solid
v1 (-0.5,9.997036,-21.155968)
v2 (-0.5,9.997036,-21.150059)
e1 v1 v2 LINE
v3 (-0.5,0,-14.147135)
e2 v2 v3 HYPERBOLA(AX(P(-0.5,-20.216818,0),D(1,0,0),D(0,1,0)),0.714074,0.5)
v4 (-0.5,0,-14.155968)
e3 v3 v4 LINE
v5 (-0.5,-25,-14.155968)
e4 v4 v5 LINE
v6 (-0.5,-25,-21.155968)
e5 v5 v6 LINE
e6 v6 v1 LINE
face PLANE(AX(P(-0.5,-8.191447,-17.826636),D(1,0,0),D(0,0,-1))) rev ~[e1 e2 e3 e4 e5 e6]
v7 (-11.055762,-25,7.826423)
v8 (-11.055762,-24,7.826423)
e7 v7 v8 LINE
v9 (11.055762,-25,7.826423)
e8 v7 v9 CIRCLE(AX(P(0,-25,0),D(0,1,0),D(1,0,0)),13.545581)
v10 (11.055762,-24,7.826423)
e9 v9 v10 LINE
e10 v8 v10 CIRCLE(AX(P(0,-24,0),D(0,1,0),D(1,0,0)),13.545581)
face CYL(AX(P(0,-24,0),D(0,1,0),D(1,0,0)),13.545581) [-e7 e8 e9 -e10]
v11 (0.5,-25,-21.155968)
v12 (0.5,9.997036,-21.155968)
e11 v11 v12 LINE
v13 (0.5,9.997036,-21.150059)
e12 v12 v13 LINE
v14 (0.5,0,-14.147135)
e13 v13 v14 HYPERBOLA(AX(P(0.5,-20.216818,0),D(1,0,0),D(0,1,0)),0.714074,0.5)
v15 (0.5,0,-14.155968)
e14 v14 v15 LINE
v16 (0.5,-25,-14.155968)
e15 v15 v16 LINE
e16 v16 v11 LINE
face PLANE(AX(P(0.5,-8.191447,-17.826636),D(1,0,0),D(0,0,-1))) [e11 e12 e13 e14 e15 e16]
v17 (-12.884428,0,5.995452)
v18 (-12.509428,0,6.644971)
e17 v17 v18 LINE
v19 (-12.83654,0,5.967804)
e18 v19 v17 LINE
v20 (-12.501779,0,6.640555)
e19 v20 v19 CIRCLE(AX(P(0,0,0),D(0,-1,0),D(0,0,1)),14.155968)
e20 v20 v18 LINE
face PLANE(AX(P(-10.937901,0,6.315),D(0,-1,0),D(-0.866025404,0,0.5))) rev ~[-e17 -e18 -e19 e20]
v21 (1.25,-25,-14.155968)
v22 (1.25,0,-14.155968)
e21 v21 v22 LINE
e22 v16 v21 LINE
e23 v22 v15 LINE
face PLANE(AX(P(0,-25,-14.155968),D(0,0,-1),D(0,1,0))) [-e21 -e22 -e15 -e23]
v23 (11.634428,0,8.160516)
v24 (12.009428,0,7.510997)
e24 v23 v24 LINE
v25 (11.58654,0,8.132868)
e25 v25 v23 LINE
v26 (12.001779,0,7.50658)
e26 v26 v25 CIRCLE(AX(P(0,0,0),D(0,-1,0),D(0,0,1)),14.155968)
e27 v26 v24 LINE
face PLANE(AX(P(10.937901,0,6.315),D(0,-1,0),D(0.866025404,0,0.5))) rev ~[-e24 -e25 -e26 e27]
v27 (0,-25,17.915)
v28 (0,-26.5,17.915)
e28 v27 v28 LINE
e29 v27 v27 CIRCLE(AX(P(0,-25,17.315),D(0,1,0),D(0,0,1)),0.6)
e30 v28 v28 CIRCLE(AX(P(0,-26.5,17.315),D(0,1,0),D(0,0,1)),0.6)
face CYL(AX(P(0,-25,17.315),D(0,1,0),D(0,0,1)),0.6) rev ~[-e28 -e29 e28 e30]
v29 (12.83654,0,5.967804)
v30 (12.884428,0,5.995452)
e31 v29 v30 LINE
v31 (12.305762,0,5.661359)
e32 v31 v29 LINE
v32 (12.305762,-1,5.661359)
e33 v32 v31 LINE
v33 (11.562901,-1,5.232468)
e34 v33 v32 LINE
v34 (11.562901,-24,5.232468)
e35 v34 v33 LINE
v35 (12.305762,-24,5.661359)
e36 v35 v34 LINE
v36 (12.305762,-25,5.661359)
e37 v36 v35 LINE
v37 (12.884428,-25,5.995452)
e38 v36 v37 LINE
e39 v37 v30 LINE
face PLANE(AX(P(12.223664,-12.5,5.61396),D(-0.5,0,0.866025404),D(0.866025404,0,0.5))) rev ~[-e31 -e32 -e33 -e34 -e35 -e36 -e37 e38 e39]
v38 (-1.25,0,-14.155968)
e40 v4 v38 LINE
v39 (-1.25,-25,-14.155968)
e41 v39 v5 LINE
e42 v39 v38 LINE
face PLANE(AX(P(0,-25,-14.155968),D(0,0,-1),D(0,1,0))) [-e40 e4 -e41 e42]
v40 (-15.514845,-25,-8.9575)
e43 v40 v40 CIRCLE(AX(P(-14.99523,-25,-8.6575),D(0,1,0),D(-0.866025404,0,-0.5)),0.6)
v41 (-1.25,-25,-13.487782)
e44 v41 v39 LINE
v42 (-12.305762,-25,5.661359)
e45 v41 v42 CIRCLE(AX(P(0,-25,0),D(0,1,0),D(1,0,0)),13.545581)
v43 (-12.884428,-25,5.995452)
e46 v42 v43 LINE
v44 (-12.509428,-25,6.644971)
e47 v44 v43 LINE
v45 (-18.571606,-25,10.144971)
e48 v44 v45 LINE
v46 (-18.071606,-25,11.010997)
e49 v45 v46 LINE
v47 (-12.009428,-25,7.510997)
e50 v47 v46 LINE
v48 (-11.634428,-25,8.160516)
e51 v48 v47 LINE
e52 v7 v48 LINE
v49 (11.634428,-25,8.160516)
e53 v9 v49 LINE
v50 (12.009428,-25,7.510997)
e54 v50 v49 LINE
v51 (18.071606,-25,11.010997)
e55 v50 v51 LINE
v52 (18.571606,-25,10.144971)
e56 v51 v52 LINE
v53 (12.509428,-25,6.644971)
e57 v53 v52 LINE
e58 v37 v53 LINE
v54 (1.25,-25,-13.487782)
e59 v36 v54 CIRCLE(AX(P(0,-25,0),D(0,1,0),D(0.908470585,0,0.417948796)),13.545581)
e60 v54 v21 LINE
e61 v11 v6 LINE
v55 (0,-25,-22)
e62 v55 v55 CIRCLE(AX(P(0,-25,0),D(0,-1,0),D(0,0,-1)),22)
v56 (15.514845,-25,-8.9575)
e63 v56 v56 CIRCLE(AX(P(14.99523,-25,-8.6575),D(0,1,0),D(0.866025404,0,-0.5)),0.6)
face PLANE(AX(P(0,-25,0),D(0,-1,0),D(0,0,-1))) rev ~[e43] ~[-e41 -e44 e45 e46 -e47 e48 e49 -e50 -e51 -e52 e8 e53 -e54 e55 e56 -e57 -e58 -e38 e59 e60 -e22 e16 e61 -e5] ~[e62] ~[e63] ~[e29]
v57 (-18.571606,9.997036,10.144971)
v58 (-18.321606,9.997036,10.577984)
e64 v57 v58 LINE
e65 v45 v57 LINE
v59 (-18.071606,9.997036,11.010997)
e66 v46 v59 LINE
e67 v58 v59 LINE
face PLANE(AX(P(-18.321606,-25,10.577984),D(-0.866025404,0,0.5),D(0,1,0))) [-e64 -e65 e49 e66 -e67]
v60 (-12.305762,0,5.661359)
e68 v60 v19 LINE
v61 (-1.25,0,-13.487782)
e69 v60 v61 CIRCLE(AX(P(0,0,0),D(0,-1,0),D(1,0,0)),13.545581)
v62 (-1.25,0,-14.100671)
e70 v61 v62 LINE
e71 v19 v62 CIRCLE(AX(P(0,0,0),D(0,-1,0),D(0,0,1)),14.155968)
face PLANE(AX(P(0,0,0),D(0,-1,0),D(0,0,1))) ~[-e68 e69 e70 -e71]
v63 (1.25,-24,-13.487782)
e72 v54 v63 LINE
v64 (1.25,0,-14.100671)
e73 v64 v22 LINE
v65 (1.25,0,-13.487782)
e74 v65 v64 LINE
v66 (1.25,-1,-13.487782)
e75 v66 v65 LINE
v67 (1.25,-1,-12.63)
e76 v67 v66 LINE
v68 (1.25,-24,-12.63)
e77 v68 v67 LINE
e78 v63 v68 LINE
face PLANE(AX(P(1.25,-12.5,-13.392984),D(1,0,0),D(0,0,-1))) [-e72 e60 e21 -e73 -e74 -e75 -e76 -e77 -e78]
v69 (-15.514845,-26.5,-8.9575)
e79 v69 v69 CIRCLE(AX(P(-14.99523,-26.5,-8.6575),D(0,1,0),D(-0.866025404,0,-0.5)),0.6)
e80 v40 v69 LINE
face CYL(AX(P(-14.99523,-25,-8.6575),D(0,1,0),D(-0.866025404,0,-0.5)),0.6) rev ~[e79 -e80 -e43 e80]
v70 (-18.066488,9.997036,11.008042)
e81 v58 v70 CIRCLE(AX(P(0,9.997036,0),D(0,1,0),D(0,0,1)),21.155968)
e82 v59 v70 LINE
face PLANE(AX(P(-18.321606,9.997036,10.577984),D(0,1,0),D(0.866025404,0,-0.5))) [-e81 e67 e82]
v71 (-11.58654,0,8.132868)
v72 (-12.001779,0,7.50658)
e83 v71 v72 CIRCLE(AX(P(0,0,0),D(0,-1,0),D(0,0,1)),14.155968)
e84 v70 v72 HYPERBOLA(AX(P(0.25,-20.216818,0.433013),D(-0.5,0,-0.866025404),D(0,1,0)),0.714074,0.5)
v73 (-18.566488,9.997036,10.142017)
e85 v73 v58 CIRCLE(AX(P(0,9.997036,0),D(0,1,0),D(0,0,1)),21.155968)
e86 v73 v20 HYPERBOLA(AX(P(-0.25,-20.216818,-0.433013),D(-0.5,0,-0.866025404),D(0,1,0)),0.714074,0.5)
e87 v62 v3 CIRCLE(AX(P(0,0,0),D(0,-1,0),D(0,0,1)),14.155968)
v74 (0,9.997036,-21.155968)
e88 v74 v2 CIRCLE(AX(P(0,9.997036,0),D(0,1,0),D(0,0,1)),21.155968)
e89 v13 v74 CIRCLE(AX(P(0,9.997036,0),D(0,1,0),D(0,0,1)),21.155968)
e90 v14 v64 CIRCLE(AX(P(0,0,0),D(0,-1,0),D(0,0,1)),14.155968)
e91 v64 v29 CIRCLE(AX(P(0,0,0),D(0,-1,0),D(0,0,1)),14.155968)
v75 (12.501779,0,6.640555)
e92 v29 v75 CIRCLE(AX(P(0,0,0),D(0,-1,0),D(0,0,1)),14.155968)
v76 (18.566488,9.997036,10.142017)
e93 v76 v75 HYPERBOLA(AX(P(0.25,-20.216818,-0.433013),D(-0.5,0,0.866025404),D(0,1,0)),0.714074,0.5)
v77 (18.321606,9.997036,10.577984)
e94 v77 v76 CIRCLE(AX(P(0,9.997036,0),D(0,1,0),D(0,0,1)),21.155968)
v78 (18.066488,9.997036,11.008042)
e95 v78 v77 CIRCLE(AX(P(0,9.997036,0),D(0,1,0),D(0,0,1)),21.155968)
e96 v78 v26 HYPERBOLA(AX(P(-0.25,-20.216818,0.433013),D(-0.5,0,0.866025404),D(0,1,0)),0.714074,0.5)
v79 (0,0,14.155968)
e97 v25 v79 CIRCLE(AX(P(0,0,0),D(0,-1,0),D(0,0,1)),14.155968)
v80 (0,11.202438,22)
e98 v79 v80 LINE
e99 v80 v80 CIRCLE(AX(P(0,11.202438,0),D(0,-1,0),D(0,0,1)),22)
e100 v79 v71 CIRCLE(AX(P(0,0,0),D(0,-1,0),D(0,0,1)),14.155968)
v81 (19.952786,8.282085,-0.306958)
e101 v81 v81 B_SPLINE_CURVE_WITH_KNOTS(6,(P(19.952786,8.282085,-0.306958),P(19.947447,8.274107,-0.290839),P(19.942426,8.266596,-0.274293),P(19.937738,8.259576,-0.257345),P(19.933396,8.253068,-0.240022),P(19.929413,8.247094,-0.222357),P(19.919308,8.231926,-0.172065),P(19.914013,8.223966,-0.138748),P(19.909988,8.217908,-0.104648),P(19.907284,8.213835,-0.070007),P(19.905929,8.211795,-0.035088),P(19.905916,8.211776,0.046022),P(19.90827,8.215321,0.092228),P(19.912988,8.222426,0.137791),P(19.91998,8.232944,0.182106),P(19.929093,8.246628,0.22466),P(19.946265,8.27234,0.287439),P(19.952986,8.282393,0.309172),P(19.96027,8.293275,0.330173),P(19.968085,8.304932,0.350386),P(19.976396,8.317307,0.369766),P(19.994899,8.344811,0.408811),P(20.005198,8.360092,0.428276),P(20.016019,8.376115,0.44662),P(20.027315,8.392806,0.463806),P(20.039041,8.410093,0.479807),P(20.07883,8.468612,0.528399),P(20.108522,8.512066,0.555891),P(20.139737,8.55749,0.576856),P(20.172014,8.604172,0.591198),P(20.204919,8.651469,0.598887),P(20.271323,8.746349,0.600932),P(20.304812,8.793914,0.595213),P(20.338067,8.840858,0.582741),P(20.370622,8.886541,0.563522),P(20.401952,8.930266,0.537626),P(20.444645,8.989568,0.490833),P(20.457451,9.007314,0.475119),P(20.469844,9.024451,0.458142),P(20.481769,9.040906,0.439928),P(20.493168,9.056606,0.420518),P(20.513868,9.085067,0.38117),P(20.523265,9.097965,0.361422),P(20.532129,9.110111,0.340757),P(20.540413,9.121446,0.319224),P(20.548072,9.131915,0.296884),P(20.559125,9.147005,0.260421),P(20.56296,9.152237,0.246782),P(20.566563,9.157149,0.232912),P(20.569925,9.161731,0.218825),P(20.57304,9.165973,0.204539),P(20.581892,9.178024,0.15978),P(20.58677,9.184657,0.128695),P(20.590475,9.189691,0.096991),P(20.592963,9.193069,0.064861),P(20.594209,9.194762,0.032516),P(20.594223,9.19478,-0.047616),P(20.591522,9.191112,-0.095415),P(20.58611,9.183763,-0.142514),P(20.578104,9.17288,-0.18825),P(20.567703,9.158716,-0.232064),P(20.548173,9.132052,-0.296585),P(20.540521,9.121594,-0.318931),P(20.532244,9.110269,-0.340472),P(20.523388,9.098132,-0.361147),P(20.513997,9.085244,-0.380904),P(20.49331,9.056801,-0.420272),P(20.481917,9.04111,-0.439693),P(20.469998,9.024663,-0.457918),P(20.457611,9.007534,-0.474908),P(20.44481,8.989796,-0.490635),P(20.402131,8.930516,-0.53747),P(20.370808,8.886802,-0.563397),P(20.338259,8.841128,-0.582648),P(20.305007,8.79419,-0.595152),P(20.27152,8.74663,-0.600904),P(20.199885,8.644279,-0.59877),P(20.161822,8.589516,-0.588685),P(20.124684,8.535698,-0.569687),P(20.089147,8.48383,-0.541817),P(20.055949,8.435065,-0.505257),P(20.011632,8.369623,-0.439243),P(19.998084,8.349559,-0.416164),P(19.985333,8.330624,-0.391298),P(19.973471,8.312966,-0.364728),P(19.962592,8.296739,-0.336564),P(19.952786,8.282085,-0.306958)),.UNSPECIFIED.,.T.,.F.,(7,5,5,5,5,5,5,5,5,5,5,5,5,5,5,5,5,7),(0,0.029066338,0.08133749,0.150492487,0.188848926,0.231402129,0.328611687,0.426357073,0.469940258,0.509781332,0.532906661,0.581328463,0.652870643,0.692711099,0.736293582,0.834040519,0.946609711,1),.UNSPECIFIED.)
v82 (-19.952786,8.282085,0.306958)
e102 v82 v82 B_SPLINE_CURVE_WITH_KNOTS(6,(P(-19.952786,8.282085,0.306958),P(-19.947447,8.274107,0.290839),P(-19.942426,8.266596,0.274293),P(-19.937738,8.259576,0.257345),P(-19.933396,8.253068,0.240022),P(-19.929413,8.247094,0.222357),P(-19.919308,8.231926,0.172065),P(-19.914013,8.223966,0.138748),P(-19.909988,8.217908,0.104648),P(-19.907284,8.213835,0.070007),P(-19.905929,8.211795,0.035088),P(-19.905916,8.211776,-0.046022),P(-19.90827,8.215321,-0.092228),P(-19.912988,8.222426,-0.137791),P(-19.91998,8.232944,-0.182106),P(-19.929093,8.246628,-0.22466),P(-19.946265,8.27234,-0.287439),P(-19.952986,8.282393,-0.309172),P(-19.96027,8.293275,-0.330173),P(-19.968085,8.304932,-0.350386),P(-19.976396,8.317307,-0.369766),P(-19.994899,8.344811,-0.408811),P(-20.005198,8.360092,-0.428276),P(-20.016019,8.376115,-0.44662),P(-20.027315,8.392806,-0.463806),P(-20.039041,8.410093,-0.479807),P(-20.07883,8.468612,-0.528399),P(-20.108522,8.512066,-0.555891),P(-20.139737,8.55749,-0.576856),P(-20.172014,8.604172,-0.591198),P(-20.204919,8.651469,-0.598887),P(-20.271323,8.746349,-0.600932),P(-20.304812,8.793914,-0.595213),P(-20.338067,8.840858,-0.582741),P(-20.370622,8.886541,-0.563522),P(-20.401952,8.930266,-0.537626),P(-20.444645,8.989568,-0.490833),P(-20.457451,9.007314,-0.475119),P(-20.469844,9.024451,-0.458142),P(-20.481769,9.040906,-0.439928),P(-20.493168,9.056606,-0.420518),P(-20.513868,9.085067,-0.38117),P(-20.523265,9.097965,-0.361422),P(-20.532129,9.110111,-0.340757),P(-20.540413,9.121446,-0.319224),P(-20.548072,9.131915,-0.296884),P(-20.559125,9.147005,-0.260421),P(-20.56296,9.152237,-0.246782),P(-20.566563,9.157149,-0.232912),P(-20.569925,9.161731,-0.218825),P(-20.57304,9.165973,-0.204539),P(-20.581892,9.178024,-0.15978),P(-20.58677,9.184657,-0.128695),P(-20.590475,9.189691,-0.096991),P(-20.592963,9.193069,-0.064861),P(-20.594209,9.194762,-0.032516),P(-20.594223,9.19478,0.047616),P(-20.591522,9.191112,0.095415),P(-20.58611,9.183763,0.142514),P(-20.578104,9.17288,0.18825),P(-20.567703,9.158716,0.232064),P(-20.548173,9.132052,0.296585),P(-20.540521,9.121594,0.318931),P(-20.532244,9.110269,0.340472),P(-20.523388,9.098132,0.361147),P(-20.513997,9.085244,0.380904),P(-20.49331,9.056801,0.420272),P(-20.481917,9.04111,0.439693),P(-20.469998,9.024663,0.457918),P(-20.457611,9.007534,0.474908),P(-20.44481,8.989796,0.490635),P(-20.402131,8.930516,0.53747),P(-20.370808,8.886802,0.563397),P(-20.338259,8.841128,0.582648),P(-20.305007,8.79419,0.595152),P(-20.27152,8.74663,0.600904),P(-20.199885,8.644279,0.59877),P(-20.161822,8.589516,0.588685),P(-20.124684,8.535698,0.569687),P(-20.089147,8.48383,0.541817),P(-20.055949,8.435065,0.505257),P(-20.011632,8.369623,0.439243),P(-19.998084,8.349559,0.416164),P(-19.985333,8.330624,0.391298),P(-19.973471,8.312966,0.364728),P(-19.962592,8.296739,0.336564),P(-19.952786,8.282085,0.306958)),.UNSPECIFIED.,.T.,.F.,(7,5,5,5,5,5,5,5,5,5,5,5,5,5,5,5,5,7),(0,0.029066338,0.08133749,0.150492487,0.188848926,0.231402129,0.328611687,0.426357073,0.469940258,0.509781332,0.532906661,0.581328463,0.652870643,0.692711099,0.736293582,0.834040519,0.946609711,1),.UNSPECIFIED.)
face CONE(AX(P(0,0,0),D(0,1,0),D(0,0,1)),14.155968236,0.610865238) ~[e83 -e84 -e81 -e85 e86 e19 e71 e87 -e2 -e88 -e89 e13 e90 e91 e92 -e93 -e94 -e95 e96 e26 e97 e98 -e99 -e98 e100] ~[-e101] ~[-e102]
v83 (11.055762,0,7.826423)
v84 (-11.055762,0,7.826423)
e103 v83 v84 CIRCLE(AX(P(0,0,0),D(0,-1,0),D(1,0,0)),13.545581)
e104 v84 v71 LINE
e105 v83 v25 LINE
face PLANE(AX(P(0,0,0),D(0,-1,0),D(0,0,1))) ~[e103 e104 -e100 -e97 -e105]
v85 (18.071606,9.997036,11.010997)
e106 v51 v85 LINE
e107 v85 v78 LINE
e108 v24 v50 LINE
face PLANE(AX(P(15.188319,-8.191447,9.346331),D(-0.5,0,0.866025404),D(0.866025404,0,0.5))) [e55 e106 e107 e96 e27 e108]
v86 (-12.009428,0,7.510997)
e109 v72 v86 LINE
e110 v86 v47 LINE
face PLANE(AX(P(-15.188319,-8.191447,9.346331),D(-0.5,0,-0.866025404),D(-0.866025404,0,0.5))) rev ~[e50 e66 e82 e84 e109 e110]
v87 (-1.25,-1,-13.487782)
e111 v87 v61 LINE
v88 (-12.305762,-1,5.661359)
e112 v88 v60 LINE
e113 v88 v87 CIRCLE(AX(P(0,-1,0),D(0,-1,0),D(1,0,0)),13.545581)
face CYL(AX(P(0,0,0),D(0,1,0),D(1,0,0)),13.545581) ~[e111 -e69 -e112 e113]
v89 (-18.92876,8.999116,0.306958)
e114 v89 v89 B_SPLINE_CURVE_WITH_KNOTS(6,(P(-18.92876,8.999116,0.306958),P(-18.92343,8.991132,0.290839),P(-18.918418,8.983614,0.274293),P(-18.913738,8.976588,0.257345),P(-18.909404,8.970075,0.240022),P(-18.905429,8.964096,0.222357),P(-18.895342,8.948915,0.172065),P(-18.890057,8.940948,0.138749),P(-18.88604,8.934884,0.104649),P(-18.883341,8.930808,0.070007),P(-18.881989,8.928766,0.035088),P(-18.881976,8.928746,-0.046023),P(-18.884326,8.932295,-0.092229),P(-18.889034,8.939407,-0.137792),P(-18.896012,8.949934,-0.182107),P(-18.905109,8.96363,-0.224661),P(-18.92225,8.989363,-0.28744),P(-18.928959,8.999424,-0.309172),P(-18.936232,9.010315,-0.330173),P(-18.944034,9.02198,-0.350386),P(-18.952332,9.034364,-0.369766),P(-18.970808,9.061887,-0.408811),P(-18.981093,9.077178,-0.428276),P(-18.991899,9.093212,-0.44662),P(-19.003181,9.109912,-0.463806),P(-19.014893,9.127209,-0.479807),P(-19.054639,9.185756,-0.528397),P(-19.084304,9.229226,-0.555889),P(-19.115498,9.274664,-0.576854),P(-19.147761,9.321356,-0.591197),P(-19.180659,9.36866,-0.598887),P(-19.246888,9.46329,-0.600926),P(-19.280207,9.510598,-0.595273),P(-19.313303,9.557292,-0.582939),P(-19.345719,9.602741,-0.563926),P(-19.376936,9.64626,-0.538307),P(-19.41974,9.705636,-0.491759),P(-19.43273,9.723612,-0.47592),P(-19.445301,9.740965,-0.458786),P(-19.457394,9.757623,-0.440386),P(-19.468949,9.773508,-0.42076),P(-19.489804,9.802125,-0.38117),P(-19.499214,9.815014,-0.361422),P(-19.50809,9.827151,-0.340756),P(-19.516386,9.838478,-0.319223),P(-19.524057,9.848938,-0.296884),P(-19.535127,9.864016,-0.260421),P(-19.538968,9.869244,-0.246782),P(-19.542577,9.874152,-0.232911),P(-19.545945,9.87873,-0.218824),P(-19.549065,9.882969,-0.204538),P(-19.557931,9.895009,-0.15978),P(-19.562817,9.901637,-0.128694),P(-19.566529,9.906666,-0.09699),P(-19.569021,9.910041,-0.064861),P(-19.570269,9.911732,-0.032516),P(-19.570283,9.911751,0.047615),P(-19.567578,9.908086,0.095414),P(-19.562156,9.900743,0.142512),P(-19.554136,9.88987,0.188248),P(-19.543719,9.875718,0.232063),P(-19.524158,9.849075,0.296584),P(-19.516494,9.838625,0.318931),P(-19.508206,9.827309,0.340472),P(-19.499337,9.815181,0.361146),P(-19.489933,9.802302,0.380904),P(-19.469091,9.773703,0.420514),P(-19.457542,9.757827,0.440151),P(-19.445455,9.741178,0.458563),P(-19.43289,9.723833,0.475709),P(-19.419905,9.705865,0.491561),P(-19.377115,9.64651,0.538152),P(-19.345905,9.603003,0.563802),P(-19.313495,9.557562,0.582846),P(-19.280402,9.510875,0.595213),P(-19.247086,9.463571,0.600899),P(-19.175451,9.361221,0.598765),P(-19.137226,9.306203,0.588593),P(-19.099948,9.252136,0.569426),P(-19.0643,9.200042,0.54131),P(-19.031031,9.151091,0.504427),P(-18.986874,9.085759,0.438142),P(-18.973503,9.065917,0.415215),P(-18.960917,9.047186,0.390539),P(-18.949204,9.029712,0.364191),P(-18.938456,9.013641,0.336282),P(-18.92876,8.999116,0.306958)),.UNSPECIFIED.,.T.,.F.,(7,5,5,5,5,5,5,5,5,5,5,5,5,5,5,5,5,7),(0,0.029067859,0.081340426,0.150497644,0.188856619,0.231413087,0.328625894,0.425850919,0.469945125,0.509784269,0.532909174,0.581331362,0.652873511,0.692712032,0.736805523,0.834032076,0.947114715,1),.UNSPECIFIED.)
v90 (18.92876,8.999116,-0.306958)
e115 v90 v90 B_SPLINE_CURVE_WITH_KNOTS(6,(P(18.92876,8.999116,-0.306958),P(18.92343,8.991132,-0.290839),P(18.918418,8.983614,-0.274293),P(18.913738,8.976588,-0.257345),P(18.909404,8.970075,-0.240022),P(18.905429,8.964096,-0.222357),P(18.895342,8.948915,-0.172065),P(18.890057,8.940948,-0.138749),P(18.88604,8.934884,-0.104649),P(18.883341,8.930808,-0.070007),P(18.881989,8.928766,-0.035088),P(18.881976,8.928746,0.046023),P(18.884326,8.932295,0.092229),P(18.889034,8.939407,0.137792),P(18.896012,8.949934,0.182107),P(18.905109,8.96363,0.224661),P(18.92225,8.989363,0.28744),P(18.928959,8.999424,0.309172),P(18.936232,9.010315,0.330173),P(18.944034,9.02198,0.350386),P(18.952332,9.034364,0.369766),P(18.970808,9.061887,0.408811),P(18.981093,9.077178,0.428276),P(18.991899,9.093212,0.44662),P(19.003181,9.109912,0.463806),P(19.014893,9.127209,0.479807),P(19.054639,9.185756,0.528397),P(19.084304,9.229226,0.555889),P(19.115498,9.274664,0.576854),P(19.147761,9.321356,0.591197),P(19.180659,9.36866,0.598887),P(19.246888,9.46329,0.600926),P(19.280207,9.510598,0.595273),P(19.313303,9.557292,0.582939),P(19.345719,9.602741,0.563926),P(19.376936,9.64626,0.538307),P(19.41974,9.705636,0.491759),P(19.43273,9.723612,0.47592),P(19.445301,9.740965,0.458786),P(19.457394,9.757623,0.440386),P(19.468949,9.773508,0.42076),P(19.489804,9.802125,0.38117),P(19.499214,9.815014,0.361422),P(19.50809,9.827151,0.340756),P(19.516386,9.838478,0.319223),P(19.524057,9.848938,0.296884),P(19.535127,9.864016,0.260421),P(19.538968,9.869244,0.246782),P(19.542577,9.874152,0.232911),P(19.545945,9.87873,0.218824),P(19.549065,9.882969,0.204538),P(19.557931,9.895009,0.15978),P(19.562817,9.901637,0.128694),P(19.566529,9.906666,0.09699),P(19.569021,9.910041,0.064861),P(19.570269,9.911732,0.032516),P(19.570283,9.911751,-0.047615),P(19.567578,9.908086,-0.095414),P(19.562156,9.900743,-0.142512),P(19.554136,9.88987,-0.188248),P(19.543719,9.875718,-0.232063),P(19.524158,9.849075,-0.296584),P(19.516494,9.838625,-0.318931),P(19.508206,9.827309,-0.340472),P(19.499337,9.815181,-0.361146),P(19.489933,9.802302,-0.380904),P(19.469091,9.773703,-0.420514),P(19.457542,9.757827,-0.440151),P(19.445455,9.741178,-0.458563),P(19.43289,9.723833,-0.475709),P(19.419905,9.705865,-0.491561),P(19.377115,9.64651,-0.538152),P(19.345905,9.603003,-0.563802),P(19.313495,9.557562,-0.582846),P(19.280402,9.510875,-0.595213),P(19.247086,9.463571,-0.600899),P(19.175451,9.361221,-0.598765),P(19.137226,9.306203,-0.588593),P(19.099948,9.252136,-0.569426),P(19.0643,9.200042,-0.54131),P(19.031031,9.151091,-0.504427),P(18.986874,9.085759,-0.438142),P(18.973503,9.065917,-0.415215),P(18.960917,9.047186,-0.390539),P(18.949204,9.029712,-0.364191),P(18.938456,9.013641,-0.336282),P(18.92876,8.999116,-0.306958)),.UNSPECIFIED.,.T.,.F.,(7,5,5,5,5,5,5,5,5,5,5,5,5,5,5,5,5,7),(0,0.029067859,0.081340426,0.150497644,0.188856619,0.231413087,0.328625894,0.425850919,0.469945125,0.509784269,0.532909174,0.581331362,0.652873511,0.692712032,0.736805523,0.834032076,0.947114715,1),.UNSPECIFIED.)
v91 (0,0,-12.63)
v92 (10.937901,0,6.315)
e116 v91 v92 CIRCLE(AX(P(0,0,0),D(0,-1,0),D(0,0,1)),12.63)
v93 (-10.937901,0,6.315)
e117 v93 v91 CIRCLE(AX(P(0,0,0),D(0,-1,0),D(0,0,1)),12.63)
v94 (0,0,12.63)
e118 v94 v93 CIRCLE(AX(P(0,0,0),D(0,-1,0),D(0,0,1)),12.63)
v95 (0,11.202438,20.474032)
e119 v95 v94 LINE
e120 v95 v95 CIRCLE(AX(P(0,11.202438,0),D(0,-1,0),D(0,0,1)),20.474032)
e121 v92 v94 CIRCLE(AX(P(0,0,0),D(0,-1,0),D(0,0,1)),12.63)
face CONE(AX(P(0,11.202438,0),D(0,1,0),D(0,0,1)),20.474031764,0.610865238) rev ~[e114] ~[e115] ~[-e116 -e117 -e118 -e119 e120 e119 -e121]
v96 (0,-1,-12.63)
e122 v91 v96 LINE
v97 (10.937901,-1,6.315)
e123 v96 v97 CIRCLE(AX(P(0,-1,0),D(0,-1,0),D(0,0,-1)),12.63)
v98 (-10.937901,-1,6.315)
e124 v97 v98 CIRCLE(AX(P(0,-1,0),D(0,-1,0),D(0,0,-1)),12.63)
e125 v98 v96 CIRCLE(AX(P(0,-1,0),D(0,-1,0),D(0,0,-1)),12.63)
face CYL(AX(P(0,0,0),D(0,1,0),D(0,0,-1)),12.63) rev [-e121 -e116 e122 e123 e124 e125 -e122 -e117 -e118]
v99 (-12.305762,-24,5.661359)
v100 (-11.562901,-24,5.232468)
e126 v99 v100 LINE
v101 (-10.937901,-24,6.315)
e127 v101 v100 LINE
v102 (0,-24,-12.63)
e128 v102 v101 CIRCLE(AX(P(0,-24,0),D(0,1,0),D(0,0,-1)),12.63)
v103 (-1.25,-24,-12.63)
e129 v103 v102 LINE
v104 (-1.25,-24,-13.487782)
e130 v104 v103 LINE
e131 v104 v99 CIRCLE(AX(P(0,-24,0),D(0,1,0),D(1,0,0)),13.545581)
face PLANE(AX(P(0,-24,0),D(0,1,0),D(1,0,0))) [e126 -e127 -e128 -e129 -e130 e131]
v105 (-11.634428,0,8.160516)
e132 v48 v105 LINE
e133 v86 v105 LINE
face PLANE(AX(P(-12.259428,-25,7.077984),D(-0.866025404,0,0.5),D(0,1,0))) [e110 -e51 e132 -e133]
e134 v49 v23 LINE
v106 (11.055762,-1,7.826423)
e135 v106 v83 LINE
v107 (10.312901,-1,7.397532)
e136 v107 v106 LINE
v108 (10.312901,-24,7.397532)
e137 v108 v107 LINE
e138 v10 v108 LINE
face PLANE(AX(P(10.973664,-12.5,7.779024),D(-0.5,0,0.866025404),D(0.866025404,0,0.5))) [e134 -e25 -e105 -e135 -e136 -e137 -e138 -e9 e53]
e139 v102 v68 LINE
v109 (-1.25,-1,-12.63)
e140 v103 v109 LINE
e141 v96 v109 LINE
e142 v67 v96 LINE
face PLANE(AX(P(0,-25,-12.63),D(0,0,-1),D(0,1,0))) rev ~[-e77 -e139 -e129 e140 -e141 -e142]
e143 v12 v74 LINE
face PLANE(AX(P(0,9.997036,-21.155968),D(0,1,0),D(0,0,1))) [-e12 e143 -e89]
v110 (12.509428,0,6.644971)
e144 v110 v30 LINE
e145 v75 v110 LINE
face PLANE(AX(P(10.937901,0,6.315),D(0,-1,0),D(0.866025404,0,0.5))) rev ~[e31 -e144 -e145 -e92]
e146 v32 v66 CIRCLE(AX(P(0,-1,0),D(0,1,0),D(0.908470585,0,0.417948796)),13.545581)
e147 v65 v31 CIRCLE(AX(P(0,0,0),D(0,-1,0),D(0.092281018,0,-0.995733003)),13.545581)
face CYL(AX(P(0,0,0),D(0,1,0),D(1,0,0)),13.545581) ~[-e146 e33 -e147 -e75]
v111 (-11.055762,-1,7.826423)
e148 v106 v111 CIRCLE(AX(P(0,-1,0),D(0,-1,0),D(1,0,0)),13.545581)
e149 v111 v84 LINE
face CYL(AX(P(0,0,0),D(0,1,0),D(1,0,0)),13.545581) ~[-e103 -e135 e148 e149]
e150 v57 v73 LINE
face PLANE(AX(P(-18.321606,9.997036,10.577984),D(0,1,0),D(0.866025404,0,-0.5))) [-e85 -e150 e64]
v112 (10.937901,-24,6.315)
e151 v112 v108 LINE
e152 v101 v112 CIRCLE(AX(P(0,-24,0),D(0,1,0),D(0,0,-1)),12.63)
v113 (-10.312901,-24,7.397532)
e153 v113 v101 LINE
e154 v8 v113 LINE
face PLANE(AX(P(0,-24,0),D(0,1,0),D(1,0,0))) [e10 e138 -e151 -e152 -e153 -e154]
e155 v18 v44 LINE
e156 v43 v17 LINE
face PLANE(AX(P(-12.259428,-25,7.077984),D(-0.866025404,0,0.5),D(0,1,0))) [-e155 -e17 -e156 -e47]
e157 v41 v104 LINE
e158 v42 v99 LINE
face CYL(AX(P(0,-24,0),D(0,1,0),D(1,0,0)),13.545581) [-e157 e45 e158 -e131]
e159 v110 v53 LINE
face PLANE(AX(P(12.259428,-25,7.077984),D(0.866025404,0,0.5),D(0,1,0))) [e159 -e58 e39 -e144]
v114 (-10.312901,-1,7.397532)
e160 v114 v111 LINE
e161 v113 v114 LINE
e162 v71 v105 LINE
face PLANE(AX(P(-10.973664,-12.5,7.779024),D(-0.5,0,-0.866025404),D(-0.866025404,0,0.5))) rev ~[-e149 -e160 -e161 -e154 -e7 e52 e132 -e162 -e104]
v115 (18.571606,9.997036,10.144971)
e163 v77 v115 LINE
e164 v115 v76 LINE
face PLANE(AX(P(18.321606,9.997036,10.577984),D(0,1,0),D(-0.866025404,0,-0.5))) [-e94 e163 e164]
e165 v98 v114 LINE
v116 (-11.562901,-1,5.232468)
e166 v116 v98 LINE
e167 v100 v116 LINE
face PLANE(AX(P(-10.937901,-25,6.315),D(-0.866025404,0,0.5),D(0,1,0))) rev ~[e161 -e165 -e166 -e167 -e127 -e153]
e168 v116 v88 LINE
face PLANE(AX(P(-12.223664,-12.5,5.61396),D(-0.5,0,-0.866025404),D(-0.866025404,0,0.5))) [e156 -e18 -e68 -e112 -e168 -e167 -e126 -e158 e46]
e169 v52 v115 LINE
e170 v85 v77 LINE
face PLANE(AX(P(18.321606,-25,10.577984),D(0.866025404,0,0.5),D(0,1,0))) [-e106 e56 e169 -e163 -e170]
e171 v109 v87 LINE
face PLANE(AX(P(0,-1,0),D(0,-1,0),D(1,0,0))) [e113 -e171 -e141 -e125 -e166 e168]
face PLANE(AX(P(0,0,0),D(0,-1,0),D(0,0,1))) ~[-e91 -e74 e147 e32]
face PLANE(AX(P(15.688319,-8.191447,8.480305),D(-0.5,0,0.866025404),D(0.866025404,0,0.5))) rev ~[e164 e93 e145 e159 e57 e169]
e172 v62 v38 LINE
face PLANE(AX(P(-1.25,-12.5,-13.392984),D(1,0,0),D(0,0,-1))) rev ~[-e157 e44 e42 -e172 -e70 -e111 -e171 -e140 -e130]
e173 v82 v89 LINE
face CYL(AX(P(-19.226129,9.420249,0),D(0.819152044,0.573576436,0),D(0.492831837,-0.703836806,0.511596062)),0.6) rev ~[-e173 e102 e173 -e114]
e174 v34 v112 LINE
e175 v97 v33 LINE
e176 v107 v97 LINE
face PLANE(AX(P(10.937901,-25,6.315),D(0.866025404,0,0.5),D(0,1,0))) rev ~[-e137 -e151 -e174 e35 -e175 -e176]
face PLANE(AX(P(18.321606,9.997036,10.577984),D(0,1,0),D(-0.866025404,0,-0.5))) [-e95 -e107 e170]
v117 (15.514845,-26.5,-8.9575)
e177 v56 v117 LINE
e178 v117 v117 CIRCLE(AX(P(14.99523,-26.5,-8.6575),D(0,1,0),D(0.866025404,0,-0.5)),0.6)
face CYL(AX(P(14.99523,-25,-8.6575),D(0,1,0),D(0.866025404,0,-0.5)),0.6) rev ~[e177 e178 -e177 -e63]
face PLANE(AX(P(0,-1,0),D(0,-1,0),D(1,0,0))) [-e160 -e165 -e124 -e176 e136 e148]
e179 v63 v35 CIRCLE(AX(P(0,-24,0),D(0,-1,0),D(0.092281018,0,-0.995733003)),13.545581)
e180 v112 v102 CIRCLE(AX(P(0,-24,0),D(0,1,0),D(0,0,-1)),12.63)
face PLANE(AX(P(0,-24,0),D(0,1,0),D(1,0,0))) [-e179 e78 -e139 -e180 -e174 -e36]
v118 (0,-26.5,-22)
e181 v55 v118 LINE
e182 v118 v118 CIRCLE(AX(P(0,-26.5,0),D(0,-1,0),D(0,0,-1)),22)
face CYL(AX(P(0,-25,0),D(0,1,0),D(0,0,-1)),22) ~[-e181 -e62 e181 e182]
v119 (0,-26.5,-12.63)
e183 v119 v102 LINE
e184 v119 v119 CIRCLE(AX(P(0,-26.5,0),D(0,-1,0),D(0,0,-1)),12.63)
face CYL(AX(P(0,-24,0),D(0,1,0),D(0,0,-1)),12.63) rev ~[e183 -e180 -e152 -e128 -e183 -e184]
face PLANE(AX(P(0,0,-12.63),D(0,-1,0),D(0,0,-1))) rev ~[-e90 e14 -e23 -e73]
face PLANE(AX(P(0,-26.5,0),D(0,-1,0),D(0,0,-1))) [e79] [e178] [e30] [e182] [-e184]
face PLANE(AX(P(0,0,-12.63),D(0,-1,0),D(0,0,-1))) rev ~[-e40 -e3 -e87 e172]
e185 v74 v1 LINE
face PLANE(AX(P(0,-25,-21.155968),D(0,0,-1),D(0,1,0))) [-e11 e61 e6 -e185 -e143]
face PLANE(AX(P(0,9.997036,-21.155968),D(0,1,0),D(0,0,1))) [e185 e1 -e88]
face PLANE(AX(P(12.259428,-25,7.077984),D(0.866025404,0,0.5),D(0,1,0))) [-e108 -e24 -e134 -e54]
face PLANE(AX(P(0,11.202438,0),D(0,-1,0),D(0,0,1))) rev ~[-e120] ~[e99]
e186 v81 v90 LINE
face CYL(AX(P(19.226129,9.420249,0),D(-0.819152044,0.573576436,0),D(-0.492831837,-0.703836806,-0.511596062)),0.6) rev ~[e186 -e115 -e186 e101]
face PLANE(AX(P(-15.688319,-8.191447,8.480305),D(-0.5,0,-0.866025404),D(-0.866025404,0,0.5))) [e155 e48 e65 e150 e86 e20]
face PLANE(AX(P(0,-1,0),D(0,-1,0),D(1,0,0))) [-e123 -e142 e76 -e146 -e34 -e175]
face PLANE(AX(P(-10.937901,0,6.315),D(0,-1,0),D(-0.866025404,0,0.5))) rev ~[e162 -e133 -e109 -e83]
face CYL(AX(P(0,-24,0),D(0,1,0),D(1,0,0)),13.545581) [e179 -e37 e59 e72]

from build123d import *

# Parameters (mm, degrees)
SKETCH36_R          = 0.6
SIDE_HOLES_DEPTH    = 2
CIRPATTERN2_COUNT   = 2
SKETCH38_W          = 1.525968236
SKETCH38_H          = 25
BOSS_EXTRUDE5_DEPTH = 1.25
BOSS_EXTRUDE6_DEPTH = 0.5
CIRPATTERN3_COUNT   = 3
SKETCH39_R          = 22
SKETCH39_R_2        = 12.63
BOSS_EXTRUDE7_DEPTH = 1.5
SKETCH40_R          = 0.6
CUT_EXTRUDE1_DEPTH  = 48.734856834
CIRPATTERN4_COUNT   = 3
BOSS_EXTRUDE8_START = 1
SKETCH41_R          = 13.545580942
SKETCH41_R_2        = 12.63
BOSS_EXTRUDE8_DEPTH = 1
SKETCH42_R          = 13.545580942
SKETCH42_R_2        = 12.63
BOSS_EXTRUDE9_DEPTH = 1


with BuildPart() as part:
    # Sketch35 → Revolve1 (revolve)
    with BuildSketch(Plane.XY, mode=Mode.PRIVATE) as revolve1_sk:
        Polygon((20.474031764, 11.202438329), (12.63, 0), (14.155968236, 0), (22, 11.202438329), align=None)
    revolve(revolve1_sk.sketch.rotate(Axis((0, 11.202438329, 0), (0, -1, 0)), 90), axis=Axis((0, 11.202438329, 0), (0, -1, 0)))

    # Sketch36 → side-holes (cut, symmetric)
    with BuildSketch(Plane(origin=(8.474857205, -5.9341589, 0), x_dir=(0, 0, 1), z_dir=(-0.8191520442889934, 0.5735764363510439, 0))):
        with Locations(Location((0, 18.744270391, 0), (0, 0, 239.229798776))):
            Circle(SKETCH36_R)
    side_holes = extrude(amount=SIDE_HOLES_DEPTH, both=True, mode=Mode.SUBTRACT)

    # CirPattern2: side-holes ×2 about axis
    cirpattern2_axis = Axis((0, 0, 0), (0, 1, 0))
    for i in range(1, CIRPATTERN2_COUNT):
        add(side_holes.rotate(cirpattern2_axis, i * 360 / CIRPATTERN2_COUNT), mode=Mode.SUBTRACT)

    # Sketch38 → Boss-Extrude5 (add, symmetric)
    with BuildSketch(Plane(origin=(0, 0, 0), x_dir=(0, 0, -1), z_dir=(1, 0, 0))):
        with Locations((13.392984118, -12.5)):
            Rectangle(SKETCH38_W, SKETCH38_H)
    boss_extrude5 = extrude(amount=BOSS_EXTRUDE5_DEPTH, both=True)

    # Sketch38<6> → Boss-Extrude6 (add, symmetric)
    with BuildSketch(Plane(origin=(0, 0, 0), x_dir=(0, 0, -1), z_dir=(1, 0, 0))):
        Polygon((19.63, 9.997036047), (12.63, 0), (14.155968236, 0), (14.155968236, -25), (21.155968236, -25), (21.155968236, 9.997036047), align=None)
    boss_extrude6 = extrude(amount=BOSS_EXTRUDE6_DEPTH, both=True)

    # CirPattern3: Boss-Extrude5, Boss-Extrude6 ×3 about axis
    cirpattern3_axis = Axis((0, 0, 0), (0, 1, 0))
    add([boss_extrude5.rotate(cirpattern3_axis, i * 360 / CIRPATTERN3_COUNT) for i in range(1, CIRPATTERN3_COUNT)])
    add([boss_extrude6.rotate(cirpattern3_axis, i * 360 / CIRPATTERN3_COUNT) for i in range(1, CIRPATTERN3_COUNT)])

    # Sketch39 → Boss-Extrude7 (add)
    with BuildSketch(Plane.XZ.offset(25)):
        with Locations(Location((0, 0, 0), (0, 0, 270))):
            Circle(SKETCH39_R)
        with Locations(Location((0, 0, 0), (0, 0, 270))):
            Circle(SKETCH39_R_2, mode=Mode.SUBTRACT)
    extrude(amount=BOSS_EXTRUDE7_DEPTH)

    # Sketch40 → Cut-Extrude1 (cut, through all)
    with BuildSketch(Plane(origin=(0, -25, 0), x_dir=(1, 0, 0), z_dir=(0, 1, 0))):
        with Locations(Location((0, -17.315, 0), (0, 0, 270))):
            Circle(SKETCH40_R)
    cut_extrude1 = extrude(amount=-CUT_EXTRUDE1_DEPTH, mode=Mode.SUBTRACT)

    # CirPattern4: Cut-Extrude1 ×3 about axis
    cirpattern4_axis = Axis((0, 0, 0), (0, 1, 0))
    for i in range(1, CIRPATTERN4_COUNT):
        add(cut_extrude1.rotate(cirpattern4_axis, i * 360 / CIRPATTERN4_COUNT), mode=Mode.SUBTRACT)

    # Sketch41 → Boss-Extrude8 (add)
    with BuildSketch(Plane(origin=(0, -25, 0), x_dir=(1, 0, 0), z_dir=(0, 1, 0)).offset(BOSS_EXTRUDE8_START)):
        Circle(SKETCH41_R)
        with Locations(Location((0, 0, 0), (0, 0, 90))):
            Circle(SKETCH41_R_2, mode=Mode.SUBTRACT)
    extrude(amount=-BOSS_EXTRUDE8_DEPTH)

    # Sketch42 → Boss-Extrude9 (add)
    with BuildSketch(Plane.XZ):
        Circle(SKETCH42_R)
        with Locations(Location((0, 0, 0), (0, 0, 270))):
            Circle(SKETCH42_R_2, mode=Mode.SUBTRACT)
    extrude(amount=BOSS_EXTRUDE9_DEPTH)


solid = part.part
